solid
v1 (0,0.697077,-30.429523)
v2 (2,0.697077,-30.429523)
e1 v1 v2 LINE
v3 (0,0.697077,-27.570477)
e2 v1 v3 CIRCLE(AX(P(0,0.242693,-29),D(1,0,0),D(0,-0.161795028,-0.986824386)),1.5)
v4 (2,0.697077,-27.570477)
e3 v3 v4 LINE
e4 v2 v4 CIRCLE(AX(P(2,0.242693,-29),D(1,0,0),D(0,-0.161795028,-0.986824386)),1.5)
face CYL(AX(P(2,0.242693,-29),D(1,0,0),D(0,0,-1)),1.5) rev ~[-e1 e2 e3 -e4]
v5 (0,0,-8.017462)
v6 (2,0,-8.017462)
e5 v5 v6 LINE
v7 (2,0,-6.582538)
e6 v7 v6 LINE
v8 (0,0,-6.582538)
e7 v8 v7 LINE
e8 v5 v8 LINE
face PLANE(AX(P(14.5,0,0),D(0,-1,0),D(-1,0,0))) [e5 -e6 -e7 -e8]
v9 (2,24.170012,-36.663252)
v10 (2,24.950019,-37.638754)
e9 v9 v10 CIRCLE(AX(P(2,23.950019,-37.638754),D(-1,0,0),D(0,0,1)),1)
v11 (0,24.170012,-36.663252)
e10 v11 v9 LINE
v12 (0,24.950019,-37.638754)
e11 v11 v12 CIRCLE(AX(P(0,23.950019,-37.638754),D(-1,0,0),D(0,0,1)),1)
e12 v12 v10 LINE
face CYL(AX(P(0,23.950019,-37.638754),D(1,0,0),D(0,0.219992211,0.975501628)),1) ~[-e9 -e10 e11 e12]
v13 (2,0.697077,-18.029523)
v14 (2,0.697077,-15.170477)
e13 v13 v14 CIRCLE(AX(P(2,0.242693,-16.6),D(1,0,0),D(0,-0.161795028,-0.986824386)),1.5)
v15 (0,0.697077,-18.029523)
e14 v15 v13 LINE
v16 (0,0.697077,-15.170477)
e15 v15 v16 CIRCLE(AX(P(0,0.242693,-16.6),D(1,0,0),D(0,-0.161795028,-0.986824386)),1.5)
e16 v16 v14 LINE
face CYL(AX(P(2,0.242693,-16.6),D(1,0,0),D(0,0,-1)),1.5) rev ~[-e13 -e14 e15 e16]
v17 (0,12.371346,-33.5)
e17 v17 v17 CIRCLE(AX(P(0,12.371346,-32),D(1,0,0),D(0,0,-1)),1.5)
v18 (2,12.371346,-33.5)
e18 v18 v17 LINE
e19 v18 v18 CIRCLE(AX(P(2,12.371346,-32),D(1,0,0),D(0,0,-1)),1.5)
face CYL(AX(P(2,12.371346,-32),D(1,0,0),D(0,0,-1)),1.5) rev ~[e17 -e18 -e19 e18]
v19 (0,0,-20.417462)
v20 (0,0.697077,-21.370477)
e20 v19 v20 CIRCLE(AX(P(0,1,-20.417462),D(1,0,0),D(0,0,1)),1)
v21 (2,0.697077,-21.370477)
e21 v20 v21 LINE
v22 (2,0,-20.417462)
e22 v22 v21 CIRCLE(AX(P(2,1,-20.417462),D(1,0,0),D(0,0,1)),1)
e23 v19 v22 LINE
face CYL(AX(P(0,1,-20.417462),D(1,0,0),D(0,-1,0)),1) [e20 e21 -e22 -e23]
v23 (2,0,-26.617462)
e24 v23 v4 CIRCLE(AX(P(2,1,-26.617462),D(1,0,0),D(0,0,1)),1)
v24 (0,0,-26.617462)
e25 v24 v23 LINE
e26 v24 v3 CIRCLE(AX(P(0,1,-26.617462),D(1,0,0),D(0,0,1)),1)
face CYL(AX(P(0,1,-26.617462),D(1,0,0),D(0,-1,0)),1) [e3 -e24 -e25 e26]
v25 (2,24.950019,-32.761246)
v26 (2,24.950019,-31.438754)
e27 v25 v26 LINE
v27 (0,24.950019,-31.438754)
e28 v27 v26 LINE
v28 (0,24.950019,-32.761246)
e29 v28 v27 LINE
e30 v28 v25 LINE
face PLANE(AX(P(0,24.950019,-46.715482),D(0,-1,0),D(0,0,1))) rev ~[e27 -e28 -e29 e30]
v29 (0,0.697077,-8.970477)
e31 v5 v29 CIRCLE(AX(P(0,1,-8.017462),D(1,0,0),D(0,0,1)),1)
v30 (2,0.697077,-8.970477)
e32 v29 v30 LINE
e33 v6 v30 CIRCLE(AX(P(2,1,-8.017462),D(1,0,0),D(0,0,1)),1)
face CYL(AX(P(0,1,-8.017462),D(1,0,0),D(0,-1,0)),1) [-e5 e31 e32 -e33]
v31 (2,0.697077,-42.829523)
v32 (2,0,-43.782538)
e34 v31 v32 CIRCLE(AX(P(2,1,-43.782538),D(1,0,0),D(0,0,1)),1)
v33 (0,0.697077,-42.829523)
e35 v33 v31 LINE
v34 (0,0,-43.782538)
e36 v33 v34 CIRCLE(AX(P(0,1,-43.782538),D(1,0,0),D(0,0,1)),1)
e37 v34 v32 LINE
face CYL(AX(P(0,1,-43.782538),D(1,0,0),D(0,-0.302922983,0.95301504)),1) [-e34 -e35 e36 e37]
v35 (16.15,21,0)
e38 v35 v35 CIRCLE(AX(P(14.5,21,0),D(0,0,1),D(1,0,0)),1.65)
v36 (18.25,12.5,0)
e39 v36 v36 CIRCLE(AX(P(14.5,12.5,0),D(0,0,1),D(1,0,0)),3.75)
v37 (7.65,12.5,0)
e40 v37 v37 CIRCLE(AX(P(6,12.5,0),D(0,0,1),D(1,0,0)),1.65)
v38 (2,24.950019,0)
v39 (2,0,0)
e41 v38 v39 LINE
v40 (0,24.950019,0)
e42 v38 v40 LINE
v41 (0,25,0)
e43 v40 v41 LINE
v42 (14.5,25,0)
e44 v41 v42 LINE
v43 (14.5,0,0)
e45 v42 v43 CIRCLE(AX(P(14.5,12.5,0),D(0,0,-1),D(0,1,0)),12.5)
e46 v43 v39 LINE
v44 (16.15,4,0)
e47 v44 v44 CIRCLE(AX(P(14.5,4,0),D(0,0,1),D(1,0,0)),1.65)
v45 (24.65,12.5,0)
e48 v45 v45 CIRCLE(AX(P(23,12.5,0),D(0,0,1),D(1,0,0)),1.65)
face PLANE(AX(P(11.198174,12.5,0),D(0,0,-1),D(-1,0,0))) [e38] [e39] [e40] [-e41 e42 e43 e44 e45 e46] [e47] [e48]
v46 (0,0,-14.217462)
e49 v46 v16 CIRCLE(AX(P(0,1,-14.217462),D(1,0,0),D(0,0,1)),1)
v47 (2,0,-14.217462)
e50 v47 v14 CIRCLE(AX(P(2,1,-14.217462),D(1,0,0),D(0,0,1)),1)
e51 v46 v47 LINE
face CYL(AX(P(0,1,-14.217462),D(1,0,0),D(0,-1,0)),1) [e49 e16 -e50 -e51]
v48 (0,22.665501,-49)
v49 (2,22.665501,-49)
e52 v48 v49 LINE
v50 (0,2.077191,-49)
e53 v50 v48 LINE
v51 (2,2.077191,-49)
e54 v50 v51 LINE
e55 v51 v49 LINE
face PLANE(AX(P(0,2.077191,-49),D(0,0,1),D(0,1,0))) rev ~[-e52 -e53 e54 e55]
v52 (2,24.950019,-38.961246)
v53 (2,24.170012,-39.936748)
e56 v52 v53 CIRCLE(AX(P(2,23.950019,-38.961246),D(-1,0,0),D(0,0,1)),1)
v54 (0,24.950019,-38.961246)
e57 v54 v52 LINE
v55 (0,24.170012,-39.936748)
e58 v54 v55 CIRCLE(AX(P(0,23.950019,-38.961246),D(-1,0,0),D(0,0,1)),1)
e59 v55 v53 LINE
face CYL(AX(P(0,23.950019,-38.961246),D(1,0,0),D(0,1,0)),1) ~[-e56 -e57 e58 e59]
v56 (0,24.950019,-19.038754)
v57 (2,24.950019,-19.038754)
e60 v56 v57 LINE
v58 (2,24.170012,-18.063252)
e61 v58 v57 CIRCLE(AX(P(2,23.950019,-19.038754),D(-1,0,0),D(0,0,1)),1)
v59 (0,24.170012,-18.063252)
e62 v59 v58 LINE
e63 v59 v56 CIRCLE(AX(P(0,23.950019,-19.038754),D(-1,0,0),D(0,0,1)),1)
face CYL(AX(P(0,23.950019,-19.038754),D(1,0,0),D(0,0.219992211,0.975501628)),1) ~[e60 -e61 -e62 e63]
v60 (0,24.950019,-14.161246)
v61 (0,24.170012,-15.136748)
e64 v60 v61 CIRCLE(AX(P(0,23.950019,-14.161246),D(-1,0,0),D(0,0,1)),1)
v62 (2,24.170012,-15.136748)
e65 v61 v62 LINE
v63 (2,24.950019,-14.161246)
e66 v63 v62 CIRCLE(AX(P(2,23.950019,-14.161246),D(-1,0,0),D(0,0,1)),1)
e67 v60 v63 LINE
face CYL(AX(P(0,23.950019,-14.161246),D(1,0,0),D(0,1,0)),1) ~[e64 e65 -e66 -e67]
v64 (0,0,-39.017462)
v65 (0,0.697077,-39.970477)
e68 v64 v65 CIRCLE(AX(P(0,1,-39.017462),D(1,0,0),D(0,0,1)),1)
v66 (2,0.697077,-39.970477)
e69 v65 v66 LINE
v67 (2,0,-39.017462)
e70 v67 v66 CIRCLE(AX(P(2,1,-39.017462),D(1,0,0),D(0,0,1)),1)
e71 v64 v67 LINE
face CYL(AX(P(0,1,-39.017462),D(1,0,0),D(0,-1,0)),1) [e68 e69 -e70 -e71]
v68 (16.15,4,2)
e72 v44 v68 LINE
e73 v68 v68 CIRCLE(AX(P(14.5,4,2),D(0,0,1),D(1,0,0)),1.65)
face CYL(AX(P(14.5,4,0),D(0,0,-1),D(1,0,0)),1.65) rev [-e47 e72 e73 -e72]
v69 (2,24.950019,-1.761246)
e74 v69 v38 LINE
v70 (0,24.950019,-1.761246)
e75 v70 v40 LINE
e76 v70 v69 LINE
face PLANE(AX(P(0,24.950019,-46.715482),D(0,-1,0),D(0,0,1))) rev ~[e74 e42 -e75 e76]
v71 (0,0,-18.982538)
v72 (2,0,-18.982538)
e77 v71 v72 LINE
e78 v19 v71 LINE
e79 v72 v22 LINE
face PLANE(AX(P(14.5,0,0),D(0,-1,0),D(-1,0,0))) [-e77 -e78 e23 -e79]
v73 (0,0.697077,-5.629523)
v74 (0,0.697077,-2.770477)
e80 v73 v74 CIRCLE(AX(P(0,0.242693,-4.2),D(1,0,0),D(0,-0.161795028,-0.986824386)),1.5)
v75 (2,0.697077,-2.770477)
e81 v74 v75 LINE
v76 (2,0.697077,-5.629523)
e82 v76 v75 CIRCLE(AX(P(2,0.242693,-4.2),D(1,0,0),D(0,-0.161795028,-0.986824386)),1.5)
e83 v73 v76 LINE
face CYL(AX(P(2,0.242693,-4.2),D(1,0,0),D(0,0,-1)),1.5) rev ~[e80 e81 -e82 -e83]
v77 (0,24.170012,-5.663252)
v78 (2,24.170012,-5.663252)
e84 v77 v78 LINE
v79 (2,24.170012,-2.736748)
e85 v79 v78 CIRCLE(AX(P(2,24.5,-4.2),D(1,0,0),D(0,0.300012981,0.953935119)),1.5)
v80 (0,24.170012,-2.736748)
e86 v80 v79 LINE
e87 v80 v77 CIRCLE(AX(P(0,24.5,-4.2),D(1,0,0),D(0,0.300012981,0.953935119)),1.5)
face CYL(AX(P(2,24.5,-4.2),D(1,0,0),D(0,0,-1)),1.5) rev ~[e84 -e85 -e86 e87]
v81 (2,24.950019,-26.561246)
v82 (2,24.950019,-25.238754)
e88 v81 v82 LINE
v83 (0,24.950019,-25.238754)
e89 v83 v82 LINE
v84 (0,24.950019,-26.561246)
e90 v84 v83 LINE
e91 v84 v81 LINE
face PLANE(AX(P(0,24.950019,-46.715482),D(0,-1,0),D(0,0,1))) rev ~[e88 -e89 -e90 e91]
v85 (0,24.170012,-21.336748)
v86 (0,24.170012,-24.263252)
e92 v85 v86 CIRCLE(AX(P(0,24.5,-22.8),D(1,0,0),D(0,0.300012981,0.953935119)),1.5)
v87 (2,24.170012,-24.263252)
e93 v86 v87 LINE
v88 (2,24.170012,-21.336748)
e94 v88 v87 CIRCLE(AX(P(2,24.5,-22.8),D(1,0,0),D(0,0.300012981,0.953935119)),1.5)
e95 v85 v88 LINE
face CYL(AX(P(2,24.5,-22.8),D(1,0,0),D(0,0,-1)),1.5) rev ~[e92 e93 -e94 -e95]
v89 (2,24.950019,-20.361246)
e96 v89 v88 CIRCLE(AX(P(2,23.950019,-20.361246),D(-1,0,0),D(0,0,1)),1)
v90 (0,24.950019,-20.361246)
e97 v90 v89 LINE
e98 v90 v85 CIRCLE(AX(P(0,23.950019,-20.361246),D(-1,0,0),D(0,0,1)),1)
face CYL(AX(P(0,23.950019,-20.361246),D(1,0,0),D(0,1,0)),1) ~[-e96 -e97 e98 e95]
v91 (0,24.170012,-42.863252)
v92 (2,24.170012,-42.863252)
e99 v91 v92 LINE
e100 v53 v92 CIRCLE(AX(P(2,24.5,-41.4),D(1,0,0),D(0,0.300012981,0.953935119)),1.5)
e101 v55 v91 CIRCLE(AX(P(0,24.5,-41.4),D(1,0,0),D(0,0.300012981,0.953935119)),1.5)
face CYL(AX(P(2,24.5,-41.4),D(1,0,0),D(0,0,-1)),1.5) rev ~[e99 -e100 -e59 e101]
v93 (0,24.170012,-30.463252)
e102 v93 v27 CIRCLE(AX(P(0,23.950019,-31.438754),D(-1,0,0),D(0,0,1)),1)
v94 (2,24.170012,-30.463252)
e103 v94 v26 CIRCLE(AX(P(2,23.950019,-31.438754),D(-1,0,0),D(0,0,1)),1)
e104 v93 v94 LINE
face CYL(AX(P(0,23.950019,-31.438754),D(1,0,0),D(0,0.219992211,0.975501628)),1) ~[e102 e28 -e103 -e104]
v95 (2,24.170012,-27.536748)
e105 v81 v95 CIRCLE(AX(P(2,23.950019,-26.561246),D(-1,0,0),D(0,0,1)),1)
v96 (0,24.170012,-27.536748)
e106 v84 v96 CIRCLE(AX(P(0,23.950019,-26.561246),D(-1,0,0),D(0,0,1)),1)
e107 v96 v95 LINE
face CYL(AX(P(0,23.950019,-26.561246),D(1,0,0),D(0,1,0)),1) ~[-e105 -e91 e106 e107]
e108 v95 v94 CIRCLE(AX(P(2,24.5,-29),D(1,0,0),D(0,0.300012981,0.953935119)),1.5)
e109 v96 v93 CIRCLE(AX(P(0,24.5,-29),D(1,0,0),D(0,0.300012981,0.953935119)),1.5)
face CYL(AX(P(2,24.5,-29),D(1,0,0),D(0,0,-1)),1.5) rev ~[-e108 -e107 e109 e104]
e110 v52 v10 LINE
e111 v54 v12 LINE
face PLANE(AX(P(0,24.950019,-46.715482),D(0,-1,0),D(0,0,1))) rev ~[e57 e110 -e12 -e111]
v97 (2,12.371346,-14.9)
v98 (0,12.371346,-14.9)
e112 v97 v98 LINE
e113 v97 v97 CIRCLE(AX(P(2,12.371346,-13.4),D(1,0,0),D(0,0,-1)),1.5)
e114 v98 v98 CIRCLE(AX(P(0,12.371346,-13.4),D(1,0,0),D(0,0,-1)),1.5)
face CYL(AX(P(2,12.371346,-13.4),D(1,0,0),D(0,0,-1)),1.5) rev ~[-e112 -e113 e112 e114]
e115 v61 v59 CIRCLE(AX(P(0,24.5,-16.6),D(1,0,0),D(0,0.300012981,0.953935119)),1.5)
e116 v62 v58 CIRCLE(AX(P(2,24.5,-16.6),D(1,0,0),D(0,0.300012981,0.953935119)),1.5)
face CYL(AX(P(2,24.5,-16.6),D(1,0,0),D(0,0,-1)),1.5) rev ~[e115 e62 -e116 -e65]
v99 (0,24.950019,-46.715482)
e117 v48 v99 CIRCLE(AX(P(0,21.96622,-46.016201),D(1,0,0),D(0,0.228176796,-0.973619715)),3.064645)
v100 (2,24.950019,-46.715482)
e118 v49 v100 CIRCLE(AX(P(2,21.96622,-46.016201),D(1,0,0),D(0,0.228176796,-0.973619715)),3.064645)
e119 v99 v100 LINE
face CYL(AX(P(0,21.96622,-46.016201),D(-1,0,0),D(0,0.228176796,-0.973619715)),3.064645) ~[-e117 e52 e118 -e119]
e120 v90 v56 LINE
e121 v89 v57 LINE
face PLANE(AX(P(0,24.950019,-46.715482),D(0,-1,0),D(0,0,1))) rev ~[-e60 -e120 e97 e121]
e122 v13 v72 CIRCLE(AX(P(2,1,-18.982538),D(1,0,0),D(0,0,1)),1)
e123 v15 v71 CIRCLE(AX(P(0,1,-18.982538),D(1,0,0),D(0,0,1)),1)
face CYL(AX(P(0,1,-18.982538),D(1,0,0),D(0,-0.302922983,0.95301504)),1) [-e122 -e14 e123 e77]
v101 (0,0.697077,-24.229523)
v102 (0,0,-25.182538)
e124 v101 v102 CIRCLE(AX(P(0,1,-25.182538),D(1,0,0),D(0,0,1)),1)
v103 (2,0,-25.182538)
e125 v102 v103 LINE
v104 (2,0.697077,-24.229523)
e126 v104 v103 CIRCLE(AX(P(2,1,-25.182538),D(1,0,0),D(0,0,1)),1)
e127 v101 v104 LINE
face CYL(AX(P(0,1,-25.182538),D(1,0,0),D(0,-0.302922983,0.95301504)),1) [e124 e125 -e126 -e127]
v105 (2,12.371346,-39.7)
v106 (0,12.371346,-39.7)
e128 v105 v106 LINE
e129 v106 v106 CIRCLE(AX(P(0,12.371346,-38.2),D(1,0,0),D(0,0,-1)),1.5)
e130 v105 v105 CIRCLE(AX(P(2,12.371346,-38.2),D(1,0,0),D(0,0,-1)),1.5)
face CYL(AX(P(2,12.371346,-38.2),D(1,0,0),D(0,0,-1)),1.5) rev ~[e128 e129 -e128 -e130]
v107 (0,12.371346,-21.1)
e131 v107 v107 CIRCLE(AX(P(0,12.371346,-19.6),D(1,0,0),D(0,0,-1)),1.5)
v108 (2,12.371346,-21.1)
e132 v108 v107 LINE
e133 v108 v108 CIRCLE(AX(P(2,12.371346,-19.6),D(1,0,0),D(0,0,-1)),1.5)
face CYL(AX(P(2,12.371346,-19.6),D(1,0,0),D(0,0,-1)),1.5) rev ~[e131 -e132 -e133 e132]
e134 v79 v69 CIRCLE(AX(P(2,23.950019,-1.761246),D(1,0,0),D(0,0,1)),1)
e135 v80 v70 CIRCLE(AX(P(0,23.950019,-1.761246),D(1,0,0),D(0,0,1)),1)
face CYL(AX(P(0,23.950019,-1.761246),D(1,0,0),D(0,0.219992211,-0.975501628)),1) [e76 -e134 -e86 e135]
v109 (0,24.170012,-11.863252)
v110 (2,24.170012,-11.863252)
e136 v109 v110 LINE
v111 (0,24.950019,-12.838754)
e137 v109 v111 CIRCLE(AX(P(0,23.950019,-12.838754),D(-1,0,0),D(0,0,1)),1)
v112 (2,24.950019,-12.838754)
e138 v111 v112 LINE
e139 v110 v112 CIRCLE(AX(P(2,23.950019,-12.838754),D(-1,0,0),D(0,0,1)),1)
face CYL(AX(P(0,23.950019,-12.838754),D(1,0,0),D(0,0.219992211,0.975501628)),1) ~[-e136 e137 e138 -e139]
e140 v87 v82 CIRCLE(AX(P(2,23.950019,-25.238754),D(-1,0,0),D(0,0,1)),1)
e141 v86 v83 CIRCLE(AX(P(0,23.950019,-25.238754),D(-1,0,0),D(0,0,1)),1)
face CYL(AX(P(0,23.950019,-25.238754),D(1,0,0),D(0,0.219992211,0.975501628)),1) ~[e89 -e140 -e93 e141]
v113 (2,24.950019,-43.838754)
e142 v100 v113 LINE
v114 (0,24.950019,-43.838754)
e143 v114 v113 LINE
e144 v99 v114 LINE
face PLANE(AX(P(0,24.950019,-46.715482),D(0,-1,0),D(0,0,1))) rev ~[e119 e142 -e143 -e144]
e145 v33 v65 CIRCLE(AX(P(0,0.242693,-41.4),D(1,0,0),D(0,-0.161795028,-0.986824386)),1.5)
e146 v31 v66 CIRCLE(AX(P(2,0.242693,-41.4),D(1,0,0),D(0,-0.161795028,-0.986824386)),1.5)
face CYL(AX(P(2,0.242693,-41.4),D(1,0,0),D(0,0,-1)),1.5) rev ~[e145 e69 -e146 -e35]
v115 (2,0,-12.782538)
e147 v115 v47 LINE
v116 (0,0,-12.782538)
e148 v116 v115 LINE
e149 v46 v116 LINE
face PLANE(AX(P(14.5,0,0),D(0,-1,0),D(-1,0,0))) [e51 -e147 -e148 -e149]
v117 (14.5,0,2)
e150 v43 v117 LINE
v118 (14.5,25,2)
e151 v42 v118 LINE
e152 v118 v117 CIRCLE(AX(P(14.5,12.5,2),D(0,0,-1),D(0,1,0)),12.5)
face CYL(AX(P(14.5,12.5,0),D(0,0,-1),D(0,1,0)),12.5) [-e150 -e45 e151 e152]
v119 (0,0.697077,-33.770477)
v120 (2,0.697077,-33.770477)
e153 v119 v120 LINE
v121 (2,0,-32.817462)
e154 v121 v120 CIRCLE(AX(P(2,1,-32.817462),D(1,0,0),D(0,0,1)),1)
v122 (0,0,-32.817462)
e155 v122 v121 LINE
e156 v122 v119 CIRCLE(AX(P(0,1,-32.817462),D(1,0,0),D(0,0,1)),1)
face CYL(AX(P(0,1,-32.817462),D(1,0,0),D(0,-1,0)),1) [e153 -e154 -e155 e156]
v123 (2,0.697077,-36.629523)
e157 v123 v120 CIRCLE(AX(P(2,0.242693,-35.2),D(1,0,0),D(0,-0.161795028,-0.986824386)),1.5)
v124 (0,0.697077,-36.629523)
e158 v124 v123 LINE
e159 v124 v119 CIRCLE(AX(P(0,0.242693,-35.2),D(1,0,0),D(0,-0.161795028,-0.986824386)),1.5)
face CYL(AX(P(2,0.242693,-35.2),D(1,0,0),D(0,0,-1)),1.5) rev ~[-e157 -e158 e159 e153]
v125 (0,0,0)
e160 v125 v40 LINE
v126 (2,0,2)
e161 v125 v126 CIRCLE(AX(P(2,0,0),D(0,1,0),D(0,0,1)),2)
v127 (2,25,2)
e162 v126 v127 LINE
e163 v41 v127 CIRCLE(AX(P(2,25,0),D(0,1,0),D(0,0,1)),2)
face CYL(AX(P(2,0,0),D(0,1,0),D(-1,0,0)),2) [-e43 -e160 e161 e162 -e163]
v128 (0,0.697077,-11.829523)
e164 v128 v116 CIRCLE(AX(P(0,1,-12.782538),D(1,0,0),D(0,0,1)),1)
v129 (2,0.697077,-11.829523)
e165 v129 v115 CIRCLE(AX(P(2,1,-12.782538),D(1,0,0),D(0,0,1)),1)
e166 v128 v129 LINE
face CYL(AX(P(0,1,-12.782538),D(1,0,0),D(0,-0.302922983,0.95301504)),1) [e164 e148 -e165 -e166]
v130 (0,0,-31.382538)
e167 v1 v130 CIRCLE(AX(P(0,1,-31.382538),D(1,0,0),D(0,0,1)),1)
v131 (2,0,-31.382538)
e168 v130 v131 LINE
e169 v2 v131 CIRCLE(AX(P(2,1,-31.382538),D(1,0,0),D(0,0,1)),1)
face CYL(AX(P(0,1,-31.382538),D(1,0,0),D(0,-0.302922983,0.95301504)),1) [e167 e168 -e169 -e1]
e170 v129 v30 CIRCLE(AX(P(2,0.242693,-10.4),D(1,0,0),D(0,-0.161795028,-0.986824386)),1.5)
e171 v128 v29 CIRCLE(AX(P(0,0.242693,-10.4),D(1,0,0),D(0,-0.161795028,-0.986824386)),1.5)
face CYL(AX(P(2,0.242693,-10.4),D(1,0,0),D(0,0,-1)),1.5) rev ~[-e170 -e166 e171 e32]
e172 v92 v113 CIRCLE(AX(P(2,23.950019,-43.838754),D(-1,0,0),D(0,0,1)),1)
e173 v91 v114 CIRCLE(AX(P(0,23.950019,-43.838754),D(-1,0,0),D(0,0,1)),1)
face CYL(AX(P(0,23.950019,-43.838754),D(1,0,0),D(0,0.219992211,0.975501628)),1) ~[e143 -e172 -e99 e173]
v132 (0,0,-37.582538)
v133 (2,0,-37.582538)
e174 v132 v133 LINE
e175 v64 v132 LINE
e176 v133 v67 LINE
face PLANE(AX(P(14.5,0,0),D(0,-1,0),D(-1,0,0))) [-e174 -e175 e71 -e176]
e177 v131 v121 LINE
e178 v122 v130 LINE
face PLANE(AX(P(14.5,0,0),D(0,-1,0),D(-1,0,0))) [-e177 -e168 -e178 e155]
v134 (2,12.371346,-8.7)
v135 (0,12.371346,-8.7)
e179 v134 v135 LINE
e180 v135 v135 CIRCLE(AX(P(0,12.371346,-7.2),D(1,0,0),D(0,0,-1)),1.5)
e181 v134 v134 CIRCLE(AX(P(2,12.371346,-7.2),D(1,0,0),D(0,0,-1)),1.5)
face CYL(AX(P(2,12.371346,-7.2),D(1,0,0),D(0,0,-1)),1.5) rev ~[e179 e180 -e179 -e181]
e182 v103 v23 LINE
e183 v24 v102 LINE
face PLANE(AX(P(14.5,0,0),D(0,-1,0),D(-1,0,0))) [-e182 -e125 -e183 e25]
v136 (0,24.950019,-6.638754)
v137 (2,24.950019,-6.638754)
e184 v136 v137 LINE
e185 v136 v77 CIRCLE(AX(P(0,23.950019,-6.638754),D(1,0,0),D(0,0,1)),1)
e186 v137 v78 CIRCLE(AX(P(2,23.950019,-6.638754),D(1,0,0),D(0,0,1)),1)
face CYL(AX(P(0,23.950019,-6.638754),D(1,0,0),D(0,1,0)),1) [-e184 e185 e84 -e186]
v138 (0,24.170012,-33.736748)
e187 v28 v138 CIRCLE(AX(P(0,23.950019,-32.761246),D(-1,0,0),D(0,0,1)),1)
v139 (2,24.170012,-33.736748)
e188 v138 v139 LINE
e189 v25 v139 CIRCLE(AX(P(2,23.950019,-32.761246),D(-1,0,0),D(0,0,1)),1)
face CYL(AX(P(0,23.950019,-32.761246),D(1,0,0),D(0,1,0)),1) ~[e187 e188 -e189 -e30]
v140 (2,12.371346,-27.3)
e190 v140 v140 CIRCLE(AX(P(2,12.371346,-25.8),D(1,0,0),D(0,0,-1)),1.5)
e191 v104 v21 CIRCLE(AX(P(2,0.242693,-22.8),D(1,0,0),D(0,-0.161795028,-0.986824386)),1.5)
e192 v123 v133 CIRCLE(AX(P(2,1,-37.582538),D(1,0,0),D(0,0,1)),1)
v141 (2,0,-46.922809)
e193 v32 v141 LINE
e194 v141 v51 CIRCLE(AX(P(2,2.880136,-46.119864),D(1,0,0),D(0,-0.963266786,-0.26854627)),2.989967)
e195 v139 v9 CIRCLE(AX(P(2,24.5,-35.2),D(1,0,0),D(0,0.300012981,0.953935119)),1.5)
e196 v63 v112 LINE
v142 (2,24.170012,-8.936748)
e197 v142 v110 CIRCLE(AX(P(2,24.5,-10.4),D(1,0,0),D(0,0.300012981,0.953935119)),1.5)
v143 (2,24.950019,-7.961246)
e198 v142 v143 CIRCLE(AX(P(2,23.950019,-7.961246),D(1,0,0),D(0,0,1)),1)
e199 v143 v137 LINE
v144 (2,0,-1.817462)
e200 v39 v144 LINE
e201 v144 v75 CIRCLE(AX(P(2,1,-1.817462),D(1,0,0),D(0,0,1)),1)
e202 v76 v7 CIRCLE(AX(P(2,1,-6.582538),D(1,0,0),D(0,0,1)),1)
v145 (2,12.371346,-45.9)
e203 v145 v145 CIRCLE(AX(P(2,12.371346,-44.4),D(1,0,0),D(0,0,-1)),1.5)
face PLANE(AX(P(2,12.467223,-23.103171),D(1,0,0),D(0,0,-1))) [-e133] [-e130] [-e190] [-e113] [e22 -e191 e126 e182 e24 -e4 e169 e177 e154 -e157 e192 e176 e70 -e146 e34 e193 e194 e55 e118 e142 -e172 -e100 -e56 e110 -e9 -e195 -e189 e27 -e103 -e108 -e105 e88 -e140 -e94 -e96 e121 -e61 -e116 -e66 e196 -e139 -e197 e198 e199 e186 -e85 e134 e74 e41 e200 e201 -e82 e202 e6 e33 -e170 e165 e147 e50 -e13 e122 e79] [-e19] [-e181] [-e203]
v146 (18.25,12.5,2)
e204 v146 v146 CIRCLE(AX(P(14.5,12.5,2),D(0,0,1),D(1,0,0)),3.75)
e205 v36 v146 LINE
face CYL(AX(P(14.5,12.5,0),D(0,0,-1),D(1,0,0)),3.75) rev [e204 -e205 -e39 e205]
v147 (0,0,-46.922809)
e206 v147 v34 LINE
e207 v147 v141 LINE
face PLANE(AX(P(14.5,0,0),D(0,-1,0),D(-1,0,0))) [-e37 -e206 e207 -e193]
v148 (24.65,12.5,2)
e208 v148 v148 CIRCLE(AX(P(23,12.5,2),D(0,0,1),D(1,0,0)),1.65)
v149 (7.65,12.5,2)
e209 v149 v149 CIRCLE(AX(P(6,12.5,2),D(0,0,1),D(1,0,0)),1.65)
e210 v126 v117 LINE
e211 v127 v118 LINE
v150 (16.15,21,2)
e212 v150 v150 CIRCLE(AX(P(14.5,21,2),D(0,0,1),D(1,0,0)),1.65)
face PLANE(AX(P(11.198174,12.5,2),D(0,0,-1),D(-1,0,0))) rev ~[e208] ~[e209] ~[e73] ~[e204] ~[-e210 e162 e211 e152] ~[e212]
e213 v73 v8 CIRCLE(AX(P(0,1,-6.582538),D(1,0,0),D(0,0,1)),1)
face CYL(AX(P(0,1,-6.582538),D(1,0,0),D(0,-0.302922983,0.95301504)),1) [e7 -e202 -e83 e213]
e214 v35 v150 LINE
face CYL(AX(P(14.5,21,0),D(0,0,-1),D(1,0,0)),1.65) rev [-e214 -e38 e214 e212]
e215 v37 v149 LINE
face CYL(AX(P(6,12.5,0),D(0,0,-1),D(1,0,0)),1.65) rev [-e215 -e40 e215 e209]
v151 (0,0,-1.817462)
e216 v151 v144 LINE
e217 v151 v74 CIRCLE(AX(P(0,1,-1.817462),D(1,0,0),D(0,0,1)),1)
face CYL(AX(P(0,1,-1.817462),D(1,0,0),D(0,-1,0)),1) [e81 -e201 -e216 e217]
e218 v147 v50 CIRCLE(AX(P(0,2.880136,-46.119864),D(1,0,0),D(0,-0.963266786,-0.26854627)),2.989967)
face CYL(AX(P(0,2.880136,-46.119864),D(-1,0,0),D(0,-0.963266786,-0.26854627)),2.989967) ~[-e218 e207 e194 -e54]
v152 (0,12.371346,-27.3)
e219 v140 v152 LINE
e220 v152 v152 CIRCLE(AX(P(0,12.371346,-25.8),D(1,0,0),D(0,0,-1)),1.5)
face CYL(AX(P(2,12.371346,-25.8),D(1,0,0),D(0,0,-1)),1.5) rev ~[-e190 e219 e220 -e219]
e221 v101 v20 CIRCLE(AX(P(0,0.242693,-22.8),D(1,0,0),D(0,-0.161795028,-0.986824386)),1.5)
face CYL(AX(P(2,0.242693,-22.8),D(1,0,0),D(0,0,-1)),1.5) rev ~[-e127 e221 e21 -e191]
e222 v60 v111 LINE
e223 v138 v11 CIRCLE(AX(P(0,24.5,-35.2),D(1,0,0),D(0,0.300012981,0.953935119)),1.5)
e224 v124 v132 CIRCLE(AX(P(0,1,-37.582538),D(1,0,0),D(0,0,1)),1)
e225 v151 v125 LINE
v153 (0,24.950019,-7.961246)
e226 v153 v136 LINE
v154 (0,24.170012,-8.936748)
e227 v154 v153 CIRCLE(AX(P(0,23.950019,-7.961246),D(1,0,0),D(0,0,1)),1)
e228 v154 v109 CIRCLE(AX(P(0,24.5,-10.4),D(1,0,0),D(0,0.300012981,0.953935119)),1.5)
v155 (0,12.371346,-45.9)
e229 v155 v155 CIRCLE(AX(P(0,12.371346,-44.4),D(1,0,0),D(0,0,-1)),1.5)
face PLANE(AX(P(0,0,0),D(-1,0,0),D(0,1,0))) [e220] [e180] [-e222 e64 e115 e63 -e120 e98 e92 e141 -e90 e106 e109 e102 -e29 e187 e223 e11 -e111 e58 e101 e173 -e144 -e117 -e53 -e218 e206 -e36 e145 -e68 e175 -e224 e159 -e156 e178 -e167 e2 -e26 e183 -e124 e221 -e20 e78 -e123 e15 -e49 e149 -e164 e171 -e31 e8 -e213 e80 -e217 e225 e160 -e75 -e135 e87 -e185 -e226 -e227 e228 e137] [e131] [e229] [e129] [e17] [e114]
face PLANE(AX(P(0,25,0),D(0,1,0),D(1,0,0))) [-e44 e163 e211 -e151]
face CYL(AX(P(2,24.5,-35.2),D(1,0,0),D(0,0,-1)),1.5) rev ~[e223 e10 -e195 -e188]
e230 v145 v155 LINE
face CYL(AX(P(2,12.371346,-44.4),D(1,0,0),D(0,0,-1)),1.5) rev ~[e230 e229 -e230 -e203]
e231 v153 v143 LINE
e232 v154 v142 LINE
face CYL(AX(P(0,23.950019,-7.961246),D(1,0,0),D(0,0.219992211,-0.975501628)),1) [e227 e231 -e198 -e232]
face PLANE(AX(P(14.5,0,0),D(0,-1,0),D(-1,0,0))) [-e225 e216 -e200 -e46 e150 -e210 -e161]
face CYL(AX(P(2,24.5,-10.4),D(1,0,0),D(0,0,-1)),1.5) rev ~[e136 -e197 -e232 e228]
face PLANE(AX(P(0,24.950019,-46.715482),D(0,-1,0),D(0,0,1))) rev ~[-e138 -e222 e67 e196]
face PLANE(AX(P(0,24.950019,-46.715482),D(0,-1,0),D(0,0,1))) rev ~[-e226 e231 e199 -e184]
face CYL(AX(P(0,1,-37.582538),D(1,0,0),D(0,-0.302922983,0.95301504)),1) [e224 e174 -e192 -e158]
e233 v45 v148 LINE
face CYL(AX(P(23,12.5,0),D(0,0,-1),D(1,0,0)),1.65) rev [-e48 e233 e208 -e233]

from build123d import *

# Parameters (mm, degrees)
CROQUIS1_R              = 3.75
CROQUIS1_R_2            = 1.65
SALIENTE_EXTRUIR1_DEPTH = 2
SALIENTE_EXTRUIR2_DEPTH = 2
CROQUIS5_R              = 1.5
CORTAR_EXTRUIR2_DEPTH   = 10
REDONDEO3_R             = 1
REDONDEO4_R             = 1
REDONDEO5_R             = 1
REDONDEO6_R             = 1
REDONDEO7_R             = 1
REDONDEO8_R             = 1
REDONDEO12_R            = 2


with BuildPart() as part:
    # Croquis1 → Saliente-Extruir1 (new body)
    with BuildSketch(Plane.XY):
        with BuildLine():
            Line((0, 0), (0, 25))
            Line((0, 25), (14.5, 25))
            ThreePointArc((14.5, 25), (27, 12.5), (14.5, 0))
            Line((14.5, 0), (0, 0))
        make_face()
        with Locations((14.5, 12.5)):
            Circle(CROQUIS1_R, mode=Mode.SUBTRACT)
        with Locations((14.5, 21)):
            Circle(CROQUIS1_R_2, mode=Mode.SUBTRACT)
        with Locations((23, 12.5)):
            Circle(CROQUIS1_R_2, mode=Mode.SUBTRACT)
        with Locations((14.5, 4)):
            Circle(CROQUIS1_R_2, mode=Mode.SUBTRACT)
        with Locations((6, 12.5)):
            Circle(CROQUIS1_R_2, mode=Mode.SUBTRACT)
    extrude(amount=SALIENTE_EXTRUIR1_DEPTH)

    # Croquis4 → Saliente-Extruir2 (add)
    with BuildSketch(Plane.ZY):
        with BuildLine():
            Line((2, 0), (-46.922808665, 0))
            ThreePointArc((-46.922808665, 0), (-48.234090069, 0.765909931), (-49, 2.077191335))
            Line((-49, 2.077191335), (-49, 22.665501207))
            ThreePointArc((-49, 22.665501207), (-48.183232344, 24.133251816), (-46.715481735, 24.950019472))
            Line((-46.715481735, 24.950019472), (2, 24.950019472))
            Line((2, 24.950019472), (2, 0))
        make_face()
    extrude(amount=-SALIENTE_EXTRUIR2_DEPTH)

    # Croquis5 → Cortar-Extruir2 (cut)
    with BuildSketch(Plane(origin=(2, 0, 0), x_dir=(0, 0, -1), z_dir=(1, 0, 0))):
        with Locations((44.4, 12.371346271)):
            Circle(CROQUIS5_R)
        with Locations((38.2, 12.371346271)):
            Circle(CROQUIS5_R)
        with Locations((32, 12.371346271)):
            Circle(CROQUIS5_R)
        with Locations((25.8, 12.371346271)):
            Circle(CROQUIS5_R)
        with Locations((19.6, 12.371346271)):
            Circle(CROQUIS5_R)
        with Locations((13.4, 12.371346271)):
            Circle(CROQUIS5_R)
        with Locations((7.2, 12.371346271)):
            Circle(CROQUIS5_R)
        with Locations((4.2, 24.5)):
            Circle(CROQUIS5_R)
        with Locations((10.4, 24.5)):
            Circle(CROQUIS5_R)
        with Locations((16.6, 24.5)):
            Circle(CROQUIS5_R)
        with Locations((22.8, 24.5)):
            Circle(CROQUIS5_R)
        with Locations((29, 24.5)):
            Circle(CROQUIS5_R)
        with Locations((35.2, 24.5)):
            Circle(CROQUIS5_R)
        with Locations((41.4, 24.5)):
            Circle(CROQUIS5_R)
        with Locations((41.4, 0.242692542)):
            Circle(CROQUIS5_R)
        with Locations((35.2, 0.242692542)):
            Circle(CROQUIS5_R)
        with Locations((29, 0.242692542)):
            Circle(CROQUIS5_R)
        with Locations((22.8, 0.242692542)):
            Circle(CROQUIS5_R)
        with Locations((16.6, 0.242692542)):
            Circle(CROQUIS5_R)
        with Locations((10.4, 0.242692542)):
            Circle(CROQUIS5_R)
        with Locations((4.2, 0.242692542)):
            Circle(CROQUIS5_R)
    extrude(amount=-CORTAR_EXTRUIR2_DEPTH, mode=Mode.SUBTRACT)

    # Redondeo3
    redondeo3_edges = [part.edges().sort_by_distance(p)[0] for p in [
        (1, 24.950019472, -5.630902678),
        (1, 24.950019472, -8.969097322),
    ]]
    fillet(redondeo3_edges, radius=REDONDEO3_R)

    # Redondeo4
    redondeo4_edges = [part.edges().sort_by_distance(p)[0] for p in [
        (1, 24.950019472, -21.369097322),
        (1, 24.950019472, -11.830902678),
        (1, 24.950019472, -15.169097322),
        (1, 24.950019472, -18.030902678),
    ]]
    fillet(redondeo4_edges, radius=REDONDEO4_R)

    # Redondeo5
    redondeo5_edges = [part.edges().sort_by_distance(p)[0] for p in [
        (1, 24.950019472, -39.969097322),
        (1, 24.950019472, -42.830902678),
        (1, 24.950019472, -33.769097322),
        (1, 24.950019472, -36.630902678),
        (1, 24.950019472, -27.569097322),
        (1, 24.950019472, -30.430902678),
        (1, 24.950019472, -24.230902678),
    ]]
    fillet(redondeo5_edges, radius=REDONDEO5_R)

    # Redondeo6
    redondeo6_edges = [part.edges().sort_by_distance(p)[0] for p in [
        (1, 24.950019472, -2.769097322),
    ]]
    fillet(redondeo6_edges, radius=REDONDEO6_R)

    # Redondeo7
    redondeo7_edges = [part.edges().sort_by_distance(p)[0] for p in [
        (1, 0, -27.519763421),
        (1, 0, -21.319763421),
        (1, 0, -24.280236579),
        (1, 0, -15.119763421),
        (1, 0, -18.080236579),
        (1, 0, -8.919763421),
        (1, 0, -11.880236579),
        (1, 0, -2.719763421),
        (1, 0, -5.680236579),
    ]]
    fillet(redondeo7_edges, radius=REDONDEO7_R)

    # Redondeo8
    redondeo8_edges = [part.edges().sort_by_distance(p)[0] for p in [
        (1, 0, -33.719763421),
        (1, 0, -36.680236579),
        (1, 0, -39.919763421),
        (1, 0, -42.880236579),
        (1, 0, -30.480236579),
    ]]
    fillet(redondeo8_edges, radius=REDONDEO8_R)

    # Redondeo12
    redondeo12_edges = [part.edges().sort_by_distance(p)[0] for p in [
        (0, 12.5, 2),
    ]]
    fillet(redondeo12_edges, radius=REDONDEO12_R)


solid = part.part
